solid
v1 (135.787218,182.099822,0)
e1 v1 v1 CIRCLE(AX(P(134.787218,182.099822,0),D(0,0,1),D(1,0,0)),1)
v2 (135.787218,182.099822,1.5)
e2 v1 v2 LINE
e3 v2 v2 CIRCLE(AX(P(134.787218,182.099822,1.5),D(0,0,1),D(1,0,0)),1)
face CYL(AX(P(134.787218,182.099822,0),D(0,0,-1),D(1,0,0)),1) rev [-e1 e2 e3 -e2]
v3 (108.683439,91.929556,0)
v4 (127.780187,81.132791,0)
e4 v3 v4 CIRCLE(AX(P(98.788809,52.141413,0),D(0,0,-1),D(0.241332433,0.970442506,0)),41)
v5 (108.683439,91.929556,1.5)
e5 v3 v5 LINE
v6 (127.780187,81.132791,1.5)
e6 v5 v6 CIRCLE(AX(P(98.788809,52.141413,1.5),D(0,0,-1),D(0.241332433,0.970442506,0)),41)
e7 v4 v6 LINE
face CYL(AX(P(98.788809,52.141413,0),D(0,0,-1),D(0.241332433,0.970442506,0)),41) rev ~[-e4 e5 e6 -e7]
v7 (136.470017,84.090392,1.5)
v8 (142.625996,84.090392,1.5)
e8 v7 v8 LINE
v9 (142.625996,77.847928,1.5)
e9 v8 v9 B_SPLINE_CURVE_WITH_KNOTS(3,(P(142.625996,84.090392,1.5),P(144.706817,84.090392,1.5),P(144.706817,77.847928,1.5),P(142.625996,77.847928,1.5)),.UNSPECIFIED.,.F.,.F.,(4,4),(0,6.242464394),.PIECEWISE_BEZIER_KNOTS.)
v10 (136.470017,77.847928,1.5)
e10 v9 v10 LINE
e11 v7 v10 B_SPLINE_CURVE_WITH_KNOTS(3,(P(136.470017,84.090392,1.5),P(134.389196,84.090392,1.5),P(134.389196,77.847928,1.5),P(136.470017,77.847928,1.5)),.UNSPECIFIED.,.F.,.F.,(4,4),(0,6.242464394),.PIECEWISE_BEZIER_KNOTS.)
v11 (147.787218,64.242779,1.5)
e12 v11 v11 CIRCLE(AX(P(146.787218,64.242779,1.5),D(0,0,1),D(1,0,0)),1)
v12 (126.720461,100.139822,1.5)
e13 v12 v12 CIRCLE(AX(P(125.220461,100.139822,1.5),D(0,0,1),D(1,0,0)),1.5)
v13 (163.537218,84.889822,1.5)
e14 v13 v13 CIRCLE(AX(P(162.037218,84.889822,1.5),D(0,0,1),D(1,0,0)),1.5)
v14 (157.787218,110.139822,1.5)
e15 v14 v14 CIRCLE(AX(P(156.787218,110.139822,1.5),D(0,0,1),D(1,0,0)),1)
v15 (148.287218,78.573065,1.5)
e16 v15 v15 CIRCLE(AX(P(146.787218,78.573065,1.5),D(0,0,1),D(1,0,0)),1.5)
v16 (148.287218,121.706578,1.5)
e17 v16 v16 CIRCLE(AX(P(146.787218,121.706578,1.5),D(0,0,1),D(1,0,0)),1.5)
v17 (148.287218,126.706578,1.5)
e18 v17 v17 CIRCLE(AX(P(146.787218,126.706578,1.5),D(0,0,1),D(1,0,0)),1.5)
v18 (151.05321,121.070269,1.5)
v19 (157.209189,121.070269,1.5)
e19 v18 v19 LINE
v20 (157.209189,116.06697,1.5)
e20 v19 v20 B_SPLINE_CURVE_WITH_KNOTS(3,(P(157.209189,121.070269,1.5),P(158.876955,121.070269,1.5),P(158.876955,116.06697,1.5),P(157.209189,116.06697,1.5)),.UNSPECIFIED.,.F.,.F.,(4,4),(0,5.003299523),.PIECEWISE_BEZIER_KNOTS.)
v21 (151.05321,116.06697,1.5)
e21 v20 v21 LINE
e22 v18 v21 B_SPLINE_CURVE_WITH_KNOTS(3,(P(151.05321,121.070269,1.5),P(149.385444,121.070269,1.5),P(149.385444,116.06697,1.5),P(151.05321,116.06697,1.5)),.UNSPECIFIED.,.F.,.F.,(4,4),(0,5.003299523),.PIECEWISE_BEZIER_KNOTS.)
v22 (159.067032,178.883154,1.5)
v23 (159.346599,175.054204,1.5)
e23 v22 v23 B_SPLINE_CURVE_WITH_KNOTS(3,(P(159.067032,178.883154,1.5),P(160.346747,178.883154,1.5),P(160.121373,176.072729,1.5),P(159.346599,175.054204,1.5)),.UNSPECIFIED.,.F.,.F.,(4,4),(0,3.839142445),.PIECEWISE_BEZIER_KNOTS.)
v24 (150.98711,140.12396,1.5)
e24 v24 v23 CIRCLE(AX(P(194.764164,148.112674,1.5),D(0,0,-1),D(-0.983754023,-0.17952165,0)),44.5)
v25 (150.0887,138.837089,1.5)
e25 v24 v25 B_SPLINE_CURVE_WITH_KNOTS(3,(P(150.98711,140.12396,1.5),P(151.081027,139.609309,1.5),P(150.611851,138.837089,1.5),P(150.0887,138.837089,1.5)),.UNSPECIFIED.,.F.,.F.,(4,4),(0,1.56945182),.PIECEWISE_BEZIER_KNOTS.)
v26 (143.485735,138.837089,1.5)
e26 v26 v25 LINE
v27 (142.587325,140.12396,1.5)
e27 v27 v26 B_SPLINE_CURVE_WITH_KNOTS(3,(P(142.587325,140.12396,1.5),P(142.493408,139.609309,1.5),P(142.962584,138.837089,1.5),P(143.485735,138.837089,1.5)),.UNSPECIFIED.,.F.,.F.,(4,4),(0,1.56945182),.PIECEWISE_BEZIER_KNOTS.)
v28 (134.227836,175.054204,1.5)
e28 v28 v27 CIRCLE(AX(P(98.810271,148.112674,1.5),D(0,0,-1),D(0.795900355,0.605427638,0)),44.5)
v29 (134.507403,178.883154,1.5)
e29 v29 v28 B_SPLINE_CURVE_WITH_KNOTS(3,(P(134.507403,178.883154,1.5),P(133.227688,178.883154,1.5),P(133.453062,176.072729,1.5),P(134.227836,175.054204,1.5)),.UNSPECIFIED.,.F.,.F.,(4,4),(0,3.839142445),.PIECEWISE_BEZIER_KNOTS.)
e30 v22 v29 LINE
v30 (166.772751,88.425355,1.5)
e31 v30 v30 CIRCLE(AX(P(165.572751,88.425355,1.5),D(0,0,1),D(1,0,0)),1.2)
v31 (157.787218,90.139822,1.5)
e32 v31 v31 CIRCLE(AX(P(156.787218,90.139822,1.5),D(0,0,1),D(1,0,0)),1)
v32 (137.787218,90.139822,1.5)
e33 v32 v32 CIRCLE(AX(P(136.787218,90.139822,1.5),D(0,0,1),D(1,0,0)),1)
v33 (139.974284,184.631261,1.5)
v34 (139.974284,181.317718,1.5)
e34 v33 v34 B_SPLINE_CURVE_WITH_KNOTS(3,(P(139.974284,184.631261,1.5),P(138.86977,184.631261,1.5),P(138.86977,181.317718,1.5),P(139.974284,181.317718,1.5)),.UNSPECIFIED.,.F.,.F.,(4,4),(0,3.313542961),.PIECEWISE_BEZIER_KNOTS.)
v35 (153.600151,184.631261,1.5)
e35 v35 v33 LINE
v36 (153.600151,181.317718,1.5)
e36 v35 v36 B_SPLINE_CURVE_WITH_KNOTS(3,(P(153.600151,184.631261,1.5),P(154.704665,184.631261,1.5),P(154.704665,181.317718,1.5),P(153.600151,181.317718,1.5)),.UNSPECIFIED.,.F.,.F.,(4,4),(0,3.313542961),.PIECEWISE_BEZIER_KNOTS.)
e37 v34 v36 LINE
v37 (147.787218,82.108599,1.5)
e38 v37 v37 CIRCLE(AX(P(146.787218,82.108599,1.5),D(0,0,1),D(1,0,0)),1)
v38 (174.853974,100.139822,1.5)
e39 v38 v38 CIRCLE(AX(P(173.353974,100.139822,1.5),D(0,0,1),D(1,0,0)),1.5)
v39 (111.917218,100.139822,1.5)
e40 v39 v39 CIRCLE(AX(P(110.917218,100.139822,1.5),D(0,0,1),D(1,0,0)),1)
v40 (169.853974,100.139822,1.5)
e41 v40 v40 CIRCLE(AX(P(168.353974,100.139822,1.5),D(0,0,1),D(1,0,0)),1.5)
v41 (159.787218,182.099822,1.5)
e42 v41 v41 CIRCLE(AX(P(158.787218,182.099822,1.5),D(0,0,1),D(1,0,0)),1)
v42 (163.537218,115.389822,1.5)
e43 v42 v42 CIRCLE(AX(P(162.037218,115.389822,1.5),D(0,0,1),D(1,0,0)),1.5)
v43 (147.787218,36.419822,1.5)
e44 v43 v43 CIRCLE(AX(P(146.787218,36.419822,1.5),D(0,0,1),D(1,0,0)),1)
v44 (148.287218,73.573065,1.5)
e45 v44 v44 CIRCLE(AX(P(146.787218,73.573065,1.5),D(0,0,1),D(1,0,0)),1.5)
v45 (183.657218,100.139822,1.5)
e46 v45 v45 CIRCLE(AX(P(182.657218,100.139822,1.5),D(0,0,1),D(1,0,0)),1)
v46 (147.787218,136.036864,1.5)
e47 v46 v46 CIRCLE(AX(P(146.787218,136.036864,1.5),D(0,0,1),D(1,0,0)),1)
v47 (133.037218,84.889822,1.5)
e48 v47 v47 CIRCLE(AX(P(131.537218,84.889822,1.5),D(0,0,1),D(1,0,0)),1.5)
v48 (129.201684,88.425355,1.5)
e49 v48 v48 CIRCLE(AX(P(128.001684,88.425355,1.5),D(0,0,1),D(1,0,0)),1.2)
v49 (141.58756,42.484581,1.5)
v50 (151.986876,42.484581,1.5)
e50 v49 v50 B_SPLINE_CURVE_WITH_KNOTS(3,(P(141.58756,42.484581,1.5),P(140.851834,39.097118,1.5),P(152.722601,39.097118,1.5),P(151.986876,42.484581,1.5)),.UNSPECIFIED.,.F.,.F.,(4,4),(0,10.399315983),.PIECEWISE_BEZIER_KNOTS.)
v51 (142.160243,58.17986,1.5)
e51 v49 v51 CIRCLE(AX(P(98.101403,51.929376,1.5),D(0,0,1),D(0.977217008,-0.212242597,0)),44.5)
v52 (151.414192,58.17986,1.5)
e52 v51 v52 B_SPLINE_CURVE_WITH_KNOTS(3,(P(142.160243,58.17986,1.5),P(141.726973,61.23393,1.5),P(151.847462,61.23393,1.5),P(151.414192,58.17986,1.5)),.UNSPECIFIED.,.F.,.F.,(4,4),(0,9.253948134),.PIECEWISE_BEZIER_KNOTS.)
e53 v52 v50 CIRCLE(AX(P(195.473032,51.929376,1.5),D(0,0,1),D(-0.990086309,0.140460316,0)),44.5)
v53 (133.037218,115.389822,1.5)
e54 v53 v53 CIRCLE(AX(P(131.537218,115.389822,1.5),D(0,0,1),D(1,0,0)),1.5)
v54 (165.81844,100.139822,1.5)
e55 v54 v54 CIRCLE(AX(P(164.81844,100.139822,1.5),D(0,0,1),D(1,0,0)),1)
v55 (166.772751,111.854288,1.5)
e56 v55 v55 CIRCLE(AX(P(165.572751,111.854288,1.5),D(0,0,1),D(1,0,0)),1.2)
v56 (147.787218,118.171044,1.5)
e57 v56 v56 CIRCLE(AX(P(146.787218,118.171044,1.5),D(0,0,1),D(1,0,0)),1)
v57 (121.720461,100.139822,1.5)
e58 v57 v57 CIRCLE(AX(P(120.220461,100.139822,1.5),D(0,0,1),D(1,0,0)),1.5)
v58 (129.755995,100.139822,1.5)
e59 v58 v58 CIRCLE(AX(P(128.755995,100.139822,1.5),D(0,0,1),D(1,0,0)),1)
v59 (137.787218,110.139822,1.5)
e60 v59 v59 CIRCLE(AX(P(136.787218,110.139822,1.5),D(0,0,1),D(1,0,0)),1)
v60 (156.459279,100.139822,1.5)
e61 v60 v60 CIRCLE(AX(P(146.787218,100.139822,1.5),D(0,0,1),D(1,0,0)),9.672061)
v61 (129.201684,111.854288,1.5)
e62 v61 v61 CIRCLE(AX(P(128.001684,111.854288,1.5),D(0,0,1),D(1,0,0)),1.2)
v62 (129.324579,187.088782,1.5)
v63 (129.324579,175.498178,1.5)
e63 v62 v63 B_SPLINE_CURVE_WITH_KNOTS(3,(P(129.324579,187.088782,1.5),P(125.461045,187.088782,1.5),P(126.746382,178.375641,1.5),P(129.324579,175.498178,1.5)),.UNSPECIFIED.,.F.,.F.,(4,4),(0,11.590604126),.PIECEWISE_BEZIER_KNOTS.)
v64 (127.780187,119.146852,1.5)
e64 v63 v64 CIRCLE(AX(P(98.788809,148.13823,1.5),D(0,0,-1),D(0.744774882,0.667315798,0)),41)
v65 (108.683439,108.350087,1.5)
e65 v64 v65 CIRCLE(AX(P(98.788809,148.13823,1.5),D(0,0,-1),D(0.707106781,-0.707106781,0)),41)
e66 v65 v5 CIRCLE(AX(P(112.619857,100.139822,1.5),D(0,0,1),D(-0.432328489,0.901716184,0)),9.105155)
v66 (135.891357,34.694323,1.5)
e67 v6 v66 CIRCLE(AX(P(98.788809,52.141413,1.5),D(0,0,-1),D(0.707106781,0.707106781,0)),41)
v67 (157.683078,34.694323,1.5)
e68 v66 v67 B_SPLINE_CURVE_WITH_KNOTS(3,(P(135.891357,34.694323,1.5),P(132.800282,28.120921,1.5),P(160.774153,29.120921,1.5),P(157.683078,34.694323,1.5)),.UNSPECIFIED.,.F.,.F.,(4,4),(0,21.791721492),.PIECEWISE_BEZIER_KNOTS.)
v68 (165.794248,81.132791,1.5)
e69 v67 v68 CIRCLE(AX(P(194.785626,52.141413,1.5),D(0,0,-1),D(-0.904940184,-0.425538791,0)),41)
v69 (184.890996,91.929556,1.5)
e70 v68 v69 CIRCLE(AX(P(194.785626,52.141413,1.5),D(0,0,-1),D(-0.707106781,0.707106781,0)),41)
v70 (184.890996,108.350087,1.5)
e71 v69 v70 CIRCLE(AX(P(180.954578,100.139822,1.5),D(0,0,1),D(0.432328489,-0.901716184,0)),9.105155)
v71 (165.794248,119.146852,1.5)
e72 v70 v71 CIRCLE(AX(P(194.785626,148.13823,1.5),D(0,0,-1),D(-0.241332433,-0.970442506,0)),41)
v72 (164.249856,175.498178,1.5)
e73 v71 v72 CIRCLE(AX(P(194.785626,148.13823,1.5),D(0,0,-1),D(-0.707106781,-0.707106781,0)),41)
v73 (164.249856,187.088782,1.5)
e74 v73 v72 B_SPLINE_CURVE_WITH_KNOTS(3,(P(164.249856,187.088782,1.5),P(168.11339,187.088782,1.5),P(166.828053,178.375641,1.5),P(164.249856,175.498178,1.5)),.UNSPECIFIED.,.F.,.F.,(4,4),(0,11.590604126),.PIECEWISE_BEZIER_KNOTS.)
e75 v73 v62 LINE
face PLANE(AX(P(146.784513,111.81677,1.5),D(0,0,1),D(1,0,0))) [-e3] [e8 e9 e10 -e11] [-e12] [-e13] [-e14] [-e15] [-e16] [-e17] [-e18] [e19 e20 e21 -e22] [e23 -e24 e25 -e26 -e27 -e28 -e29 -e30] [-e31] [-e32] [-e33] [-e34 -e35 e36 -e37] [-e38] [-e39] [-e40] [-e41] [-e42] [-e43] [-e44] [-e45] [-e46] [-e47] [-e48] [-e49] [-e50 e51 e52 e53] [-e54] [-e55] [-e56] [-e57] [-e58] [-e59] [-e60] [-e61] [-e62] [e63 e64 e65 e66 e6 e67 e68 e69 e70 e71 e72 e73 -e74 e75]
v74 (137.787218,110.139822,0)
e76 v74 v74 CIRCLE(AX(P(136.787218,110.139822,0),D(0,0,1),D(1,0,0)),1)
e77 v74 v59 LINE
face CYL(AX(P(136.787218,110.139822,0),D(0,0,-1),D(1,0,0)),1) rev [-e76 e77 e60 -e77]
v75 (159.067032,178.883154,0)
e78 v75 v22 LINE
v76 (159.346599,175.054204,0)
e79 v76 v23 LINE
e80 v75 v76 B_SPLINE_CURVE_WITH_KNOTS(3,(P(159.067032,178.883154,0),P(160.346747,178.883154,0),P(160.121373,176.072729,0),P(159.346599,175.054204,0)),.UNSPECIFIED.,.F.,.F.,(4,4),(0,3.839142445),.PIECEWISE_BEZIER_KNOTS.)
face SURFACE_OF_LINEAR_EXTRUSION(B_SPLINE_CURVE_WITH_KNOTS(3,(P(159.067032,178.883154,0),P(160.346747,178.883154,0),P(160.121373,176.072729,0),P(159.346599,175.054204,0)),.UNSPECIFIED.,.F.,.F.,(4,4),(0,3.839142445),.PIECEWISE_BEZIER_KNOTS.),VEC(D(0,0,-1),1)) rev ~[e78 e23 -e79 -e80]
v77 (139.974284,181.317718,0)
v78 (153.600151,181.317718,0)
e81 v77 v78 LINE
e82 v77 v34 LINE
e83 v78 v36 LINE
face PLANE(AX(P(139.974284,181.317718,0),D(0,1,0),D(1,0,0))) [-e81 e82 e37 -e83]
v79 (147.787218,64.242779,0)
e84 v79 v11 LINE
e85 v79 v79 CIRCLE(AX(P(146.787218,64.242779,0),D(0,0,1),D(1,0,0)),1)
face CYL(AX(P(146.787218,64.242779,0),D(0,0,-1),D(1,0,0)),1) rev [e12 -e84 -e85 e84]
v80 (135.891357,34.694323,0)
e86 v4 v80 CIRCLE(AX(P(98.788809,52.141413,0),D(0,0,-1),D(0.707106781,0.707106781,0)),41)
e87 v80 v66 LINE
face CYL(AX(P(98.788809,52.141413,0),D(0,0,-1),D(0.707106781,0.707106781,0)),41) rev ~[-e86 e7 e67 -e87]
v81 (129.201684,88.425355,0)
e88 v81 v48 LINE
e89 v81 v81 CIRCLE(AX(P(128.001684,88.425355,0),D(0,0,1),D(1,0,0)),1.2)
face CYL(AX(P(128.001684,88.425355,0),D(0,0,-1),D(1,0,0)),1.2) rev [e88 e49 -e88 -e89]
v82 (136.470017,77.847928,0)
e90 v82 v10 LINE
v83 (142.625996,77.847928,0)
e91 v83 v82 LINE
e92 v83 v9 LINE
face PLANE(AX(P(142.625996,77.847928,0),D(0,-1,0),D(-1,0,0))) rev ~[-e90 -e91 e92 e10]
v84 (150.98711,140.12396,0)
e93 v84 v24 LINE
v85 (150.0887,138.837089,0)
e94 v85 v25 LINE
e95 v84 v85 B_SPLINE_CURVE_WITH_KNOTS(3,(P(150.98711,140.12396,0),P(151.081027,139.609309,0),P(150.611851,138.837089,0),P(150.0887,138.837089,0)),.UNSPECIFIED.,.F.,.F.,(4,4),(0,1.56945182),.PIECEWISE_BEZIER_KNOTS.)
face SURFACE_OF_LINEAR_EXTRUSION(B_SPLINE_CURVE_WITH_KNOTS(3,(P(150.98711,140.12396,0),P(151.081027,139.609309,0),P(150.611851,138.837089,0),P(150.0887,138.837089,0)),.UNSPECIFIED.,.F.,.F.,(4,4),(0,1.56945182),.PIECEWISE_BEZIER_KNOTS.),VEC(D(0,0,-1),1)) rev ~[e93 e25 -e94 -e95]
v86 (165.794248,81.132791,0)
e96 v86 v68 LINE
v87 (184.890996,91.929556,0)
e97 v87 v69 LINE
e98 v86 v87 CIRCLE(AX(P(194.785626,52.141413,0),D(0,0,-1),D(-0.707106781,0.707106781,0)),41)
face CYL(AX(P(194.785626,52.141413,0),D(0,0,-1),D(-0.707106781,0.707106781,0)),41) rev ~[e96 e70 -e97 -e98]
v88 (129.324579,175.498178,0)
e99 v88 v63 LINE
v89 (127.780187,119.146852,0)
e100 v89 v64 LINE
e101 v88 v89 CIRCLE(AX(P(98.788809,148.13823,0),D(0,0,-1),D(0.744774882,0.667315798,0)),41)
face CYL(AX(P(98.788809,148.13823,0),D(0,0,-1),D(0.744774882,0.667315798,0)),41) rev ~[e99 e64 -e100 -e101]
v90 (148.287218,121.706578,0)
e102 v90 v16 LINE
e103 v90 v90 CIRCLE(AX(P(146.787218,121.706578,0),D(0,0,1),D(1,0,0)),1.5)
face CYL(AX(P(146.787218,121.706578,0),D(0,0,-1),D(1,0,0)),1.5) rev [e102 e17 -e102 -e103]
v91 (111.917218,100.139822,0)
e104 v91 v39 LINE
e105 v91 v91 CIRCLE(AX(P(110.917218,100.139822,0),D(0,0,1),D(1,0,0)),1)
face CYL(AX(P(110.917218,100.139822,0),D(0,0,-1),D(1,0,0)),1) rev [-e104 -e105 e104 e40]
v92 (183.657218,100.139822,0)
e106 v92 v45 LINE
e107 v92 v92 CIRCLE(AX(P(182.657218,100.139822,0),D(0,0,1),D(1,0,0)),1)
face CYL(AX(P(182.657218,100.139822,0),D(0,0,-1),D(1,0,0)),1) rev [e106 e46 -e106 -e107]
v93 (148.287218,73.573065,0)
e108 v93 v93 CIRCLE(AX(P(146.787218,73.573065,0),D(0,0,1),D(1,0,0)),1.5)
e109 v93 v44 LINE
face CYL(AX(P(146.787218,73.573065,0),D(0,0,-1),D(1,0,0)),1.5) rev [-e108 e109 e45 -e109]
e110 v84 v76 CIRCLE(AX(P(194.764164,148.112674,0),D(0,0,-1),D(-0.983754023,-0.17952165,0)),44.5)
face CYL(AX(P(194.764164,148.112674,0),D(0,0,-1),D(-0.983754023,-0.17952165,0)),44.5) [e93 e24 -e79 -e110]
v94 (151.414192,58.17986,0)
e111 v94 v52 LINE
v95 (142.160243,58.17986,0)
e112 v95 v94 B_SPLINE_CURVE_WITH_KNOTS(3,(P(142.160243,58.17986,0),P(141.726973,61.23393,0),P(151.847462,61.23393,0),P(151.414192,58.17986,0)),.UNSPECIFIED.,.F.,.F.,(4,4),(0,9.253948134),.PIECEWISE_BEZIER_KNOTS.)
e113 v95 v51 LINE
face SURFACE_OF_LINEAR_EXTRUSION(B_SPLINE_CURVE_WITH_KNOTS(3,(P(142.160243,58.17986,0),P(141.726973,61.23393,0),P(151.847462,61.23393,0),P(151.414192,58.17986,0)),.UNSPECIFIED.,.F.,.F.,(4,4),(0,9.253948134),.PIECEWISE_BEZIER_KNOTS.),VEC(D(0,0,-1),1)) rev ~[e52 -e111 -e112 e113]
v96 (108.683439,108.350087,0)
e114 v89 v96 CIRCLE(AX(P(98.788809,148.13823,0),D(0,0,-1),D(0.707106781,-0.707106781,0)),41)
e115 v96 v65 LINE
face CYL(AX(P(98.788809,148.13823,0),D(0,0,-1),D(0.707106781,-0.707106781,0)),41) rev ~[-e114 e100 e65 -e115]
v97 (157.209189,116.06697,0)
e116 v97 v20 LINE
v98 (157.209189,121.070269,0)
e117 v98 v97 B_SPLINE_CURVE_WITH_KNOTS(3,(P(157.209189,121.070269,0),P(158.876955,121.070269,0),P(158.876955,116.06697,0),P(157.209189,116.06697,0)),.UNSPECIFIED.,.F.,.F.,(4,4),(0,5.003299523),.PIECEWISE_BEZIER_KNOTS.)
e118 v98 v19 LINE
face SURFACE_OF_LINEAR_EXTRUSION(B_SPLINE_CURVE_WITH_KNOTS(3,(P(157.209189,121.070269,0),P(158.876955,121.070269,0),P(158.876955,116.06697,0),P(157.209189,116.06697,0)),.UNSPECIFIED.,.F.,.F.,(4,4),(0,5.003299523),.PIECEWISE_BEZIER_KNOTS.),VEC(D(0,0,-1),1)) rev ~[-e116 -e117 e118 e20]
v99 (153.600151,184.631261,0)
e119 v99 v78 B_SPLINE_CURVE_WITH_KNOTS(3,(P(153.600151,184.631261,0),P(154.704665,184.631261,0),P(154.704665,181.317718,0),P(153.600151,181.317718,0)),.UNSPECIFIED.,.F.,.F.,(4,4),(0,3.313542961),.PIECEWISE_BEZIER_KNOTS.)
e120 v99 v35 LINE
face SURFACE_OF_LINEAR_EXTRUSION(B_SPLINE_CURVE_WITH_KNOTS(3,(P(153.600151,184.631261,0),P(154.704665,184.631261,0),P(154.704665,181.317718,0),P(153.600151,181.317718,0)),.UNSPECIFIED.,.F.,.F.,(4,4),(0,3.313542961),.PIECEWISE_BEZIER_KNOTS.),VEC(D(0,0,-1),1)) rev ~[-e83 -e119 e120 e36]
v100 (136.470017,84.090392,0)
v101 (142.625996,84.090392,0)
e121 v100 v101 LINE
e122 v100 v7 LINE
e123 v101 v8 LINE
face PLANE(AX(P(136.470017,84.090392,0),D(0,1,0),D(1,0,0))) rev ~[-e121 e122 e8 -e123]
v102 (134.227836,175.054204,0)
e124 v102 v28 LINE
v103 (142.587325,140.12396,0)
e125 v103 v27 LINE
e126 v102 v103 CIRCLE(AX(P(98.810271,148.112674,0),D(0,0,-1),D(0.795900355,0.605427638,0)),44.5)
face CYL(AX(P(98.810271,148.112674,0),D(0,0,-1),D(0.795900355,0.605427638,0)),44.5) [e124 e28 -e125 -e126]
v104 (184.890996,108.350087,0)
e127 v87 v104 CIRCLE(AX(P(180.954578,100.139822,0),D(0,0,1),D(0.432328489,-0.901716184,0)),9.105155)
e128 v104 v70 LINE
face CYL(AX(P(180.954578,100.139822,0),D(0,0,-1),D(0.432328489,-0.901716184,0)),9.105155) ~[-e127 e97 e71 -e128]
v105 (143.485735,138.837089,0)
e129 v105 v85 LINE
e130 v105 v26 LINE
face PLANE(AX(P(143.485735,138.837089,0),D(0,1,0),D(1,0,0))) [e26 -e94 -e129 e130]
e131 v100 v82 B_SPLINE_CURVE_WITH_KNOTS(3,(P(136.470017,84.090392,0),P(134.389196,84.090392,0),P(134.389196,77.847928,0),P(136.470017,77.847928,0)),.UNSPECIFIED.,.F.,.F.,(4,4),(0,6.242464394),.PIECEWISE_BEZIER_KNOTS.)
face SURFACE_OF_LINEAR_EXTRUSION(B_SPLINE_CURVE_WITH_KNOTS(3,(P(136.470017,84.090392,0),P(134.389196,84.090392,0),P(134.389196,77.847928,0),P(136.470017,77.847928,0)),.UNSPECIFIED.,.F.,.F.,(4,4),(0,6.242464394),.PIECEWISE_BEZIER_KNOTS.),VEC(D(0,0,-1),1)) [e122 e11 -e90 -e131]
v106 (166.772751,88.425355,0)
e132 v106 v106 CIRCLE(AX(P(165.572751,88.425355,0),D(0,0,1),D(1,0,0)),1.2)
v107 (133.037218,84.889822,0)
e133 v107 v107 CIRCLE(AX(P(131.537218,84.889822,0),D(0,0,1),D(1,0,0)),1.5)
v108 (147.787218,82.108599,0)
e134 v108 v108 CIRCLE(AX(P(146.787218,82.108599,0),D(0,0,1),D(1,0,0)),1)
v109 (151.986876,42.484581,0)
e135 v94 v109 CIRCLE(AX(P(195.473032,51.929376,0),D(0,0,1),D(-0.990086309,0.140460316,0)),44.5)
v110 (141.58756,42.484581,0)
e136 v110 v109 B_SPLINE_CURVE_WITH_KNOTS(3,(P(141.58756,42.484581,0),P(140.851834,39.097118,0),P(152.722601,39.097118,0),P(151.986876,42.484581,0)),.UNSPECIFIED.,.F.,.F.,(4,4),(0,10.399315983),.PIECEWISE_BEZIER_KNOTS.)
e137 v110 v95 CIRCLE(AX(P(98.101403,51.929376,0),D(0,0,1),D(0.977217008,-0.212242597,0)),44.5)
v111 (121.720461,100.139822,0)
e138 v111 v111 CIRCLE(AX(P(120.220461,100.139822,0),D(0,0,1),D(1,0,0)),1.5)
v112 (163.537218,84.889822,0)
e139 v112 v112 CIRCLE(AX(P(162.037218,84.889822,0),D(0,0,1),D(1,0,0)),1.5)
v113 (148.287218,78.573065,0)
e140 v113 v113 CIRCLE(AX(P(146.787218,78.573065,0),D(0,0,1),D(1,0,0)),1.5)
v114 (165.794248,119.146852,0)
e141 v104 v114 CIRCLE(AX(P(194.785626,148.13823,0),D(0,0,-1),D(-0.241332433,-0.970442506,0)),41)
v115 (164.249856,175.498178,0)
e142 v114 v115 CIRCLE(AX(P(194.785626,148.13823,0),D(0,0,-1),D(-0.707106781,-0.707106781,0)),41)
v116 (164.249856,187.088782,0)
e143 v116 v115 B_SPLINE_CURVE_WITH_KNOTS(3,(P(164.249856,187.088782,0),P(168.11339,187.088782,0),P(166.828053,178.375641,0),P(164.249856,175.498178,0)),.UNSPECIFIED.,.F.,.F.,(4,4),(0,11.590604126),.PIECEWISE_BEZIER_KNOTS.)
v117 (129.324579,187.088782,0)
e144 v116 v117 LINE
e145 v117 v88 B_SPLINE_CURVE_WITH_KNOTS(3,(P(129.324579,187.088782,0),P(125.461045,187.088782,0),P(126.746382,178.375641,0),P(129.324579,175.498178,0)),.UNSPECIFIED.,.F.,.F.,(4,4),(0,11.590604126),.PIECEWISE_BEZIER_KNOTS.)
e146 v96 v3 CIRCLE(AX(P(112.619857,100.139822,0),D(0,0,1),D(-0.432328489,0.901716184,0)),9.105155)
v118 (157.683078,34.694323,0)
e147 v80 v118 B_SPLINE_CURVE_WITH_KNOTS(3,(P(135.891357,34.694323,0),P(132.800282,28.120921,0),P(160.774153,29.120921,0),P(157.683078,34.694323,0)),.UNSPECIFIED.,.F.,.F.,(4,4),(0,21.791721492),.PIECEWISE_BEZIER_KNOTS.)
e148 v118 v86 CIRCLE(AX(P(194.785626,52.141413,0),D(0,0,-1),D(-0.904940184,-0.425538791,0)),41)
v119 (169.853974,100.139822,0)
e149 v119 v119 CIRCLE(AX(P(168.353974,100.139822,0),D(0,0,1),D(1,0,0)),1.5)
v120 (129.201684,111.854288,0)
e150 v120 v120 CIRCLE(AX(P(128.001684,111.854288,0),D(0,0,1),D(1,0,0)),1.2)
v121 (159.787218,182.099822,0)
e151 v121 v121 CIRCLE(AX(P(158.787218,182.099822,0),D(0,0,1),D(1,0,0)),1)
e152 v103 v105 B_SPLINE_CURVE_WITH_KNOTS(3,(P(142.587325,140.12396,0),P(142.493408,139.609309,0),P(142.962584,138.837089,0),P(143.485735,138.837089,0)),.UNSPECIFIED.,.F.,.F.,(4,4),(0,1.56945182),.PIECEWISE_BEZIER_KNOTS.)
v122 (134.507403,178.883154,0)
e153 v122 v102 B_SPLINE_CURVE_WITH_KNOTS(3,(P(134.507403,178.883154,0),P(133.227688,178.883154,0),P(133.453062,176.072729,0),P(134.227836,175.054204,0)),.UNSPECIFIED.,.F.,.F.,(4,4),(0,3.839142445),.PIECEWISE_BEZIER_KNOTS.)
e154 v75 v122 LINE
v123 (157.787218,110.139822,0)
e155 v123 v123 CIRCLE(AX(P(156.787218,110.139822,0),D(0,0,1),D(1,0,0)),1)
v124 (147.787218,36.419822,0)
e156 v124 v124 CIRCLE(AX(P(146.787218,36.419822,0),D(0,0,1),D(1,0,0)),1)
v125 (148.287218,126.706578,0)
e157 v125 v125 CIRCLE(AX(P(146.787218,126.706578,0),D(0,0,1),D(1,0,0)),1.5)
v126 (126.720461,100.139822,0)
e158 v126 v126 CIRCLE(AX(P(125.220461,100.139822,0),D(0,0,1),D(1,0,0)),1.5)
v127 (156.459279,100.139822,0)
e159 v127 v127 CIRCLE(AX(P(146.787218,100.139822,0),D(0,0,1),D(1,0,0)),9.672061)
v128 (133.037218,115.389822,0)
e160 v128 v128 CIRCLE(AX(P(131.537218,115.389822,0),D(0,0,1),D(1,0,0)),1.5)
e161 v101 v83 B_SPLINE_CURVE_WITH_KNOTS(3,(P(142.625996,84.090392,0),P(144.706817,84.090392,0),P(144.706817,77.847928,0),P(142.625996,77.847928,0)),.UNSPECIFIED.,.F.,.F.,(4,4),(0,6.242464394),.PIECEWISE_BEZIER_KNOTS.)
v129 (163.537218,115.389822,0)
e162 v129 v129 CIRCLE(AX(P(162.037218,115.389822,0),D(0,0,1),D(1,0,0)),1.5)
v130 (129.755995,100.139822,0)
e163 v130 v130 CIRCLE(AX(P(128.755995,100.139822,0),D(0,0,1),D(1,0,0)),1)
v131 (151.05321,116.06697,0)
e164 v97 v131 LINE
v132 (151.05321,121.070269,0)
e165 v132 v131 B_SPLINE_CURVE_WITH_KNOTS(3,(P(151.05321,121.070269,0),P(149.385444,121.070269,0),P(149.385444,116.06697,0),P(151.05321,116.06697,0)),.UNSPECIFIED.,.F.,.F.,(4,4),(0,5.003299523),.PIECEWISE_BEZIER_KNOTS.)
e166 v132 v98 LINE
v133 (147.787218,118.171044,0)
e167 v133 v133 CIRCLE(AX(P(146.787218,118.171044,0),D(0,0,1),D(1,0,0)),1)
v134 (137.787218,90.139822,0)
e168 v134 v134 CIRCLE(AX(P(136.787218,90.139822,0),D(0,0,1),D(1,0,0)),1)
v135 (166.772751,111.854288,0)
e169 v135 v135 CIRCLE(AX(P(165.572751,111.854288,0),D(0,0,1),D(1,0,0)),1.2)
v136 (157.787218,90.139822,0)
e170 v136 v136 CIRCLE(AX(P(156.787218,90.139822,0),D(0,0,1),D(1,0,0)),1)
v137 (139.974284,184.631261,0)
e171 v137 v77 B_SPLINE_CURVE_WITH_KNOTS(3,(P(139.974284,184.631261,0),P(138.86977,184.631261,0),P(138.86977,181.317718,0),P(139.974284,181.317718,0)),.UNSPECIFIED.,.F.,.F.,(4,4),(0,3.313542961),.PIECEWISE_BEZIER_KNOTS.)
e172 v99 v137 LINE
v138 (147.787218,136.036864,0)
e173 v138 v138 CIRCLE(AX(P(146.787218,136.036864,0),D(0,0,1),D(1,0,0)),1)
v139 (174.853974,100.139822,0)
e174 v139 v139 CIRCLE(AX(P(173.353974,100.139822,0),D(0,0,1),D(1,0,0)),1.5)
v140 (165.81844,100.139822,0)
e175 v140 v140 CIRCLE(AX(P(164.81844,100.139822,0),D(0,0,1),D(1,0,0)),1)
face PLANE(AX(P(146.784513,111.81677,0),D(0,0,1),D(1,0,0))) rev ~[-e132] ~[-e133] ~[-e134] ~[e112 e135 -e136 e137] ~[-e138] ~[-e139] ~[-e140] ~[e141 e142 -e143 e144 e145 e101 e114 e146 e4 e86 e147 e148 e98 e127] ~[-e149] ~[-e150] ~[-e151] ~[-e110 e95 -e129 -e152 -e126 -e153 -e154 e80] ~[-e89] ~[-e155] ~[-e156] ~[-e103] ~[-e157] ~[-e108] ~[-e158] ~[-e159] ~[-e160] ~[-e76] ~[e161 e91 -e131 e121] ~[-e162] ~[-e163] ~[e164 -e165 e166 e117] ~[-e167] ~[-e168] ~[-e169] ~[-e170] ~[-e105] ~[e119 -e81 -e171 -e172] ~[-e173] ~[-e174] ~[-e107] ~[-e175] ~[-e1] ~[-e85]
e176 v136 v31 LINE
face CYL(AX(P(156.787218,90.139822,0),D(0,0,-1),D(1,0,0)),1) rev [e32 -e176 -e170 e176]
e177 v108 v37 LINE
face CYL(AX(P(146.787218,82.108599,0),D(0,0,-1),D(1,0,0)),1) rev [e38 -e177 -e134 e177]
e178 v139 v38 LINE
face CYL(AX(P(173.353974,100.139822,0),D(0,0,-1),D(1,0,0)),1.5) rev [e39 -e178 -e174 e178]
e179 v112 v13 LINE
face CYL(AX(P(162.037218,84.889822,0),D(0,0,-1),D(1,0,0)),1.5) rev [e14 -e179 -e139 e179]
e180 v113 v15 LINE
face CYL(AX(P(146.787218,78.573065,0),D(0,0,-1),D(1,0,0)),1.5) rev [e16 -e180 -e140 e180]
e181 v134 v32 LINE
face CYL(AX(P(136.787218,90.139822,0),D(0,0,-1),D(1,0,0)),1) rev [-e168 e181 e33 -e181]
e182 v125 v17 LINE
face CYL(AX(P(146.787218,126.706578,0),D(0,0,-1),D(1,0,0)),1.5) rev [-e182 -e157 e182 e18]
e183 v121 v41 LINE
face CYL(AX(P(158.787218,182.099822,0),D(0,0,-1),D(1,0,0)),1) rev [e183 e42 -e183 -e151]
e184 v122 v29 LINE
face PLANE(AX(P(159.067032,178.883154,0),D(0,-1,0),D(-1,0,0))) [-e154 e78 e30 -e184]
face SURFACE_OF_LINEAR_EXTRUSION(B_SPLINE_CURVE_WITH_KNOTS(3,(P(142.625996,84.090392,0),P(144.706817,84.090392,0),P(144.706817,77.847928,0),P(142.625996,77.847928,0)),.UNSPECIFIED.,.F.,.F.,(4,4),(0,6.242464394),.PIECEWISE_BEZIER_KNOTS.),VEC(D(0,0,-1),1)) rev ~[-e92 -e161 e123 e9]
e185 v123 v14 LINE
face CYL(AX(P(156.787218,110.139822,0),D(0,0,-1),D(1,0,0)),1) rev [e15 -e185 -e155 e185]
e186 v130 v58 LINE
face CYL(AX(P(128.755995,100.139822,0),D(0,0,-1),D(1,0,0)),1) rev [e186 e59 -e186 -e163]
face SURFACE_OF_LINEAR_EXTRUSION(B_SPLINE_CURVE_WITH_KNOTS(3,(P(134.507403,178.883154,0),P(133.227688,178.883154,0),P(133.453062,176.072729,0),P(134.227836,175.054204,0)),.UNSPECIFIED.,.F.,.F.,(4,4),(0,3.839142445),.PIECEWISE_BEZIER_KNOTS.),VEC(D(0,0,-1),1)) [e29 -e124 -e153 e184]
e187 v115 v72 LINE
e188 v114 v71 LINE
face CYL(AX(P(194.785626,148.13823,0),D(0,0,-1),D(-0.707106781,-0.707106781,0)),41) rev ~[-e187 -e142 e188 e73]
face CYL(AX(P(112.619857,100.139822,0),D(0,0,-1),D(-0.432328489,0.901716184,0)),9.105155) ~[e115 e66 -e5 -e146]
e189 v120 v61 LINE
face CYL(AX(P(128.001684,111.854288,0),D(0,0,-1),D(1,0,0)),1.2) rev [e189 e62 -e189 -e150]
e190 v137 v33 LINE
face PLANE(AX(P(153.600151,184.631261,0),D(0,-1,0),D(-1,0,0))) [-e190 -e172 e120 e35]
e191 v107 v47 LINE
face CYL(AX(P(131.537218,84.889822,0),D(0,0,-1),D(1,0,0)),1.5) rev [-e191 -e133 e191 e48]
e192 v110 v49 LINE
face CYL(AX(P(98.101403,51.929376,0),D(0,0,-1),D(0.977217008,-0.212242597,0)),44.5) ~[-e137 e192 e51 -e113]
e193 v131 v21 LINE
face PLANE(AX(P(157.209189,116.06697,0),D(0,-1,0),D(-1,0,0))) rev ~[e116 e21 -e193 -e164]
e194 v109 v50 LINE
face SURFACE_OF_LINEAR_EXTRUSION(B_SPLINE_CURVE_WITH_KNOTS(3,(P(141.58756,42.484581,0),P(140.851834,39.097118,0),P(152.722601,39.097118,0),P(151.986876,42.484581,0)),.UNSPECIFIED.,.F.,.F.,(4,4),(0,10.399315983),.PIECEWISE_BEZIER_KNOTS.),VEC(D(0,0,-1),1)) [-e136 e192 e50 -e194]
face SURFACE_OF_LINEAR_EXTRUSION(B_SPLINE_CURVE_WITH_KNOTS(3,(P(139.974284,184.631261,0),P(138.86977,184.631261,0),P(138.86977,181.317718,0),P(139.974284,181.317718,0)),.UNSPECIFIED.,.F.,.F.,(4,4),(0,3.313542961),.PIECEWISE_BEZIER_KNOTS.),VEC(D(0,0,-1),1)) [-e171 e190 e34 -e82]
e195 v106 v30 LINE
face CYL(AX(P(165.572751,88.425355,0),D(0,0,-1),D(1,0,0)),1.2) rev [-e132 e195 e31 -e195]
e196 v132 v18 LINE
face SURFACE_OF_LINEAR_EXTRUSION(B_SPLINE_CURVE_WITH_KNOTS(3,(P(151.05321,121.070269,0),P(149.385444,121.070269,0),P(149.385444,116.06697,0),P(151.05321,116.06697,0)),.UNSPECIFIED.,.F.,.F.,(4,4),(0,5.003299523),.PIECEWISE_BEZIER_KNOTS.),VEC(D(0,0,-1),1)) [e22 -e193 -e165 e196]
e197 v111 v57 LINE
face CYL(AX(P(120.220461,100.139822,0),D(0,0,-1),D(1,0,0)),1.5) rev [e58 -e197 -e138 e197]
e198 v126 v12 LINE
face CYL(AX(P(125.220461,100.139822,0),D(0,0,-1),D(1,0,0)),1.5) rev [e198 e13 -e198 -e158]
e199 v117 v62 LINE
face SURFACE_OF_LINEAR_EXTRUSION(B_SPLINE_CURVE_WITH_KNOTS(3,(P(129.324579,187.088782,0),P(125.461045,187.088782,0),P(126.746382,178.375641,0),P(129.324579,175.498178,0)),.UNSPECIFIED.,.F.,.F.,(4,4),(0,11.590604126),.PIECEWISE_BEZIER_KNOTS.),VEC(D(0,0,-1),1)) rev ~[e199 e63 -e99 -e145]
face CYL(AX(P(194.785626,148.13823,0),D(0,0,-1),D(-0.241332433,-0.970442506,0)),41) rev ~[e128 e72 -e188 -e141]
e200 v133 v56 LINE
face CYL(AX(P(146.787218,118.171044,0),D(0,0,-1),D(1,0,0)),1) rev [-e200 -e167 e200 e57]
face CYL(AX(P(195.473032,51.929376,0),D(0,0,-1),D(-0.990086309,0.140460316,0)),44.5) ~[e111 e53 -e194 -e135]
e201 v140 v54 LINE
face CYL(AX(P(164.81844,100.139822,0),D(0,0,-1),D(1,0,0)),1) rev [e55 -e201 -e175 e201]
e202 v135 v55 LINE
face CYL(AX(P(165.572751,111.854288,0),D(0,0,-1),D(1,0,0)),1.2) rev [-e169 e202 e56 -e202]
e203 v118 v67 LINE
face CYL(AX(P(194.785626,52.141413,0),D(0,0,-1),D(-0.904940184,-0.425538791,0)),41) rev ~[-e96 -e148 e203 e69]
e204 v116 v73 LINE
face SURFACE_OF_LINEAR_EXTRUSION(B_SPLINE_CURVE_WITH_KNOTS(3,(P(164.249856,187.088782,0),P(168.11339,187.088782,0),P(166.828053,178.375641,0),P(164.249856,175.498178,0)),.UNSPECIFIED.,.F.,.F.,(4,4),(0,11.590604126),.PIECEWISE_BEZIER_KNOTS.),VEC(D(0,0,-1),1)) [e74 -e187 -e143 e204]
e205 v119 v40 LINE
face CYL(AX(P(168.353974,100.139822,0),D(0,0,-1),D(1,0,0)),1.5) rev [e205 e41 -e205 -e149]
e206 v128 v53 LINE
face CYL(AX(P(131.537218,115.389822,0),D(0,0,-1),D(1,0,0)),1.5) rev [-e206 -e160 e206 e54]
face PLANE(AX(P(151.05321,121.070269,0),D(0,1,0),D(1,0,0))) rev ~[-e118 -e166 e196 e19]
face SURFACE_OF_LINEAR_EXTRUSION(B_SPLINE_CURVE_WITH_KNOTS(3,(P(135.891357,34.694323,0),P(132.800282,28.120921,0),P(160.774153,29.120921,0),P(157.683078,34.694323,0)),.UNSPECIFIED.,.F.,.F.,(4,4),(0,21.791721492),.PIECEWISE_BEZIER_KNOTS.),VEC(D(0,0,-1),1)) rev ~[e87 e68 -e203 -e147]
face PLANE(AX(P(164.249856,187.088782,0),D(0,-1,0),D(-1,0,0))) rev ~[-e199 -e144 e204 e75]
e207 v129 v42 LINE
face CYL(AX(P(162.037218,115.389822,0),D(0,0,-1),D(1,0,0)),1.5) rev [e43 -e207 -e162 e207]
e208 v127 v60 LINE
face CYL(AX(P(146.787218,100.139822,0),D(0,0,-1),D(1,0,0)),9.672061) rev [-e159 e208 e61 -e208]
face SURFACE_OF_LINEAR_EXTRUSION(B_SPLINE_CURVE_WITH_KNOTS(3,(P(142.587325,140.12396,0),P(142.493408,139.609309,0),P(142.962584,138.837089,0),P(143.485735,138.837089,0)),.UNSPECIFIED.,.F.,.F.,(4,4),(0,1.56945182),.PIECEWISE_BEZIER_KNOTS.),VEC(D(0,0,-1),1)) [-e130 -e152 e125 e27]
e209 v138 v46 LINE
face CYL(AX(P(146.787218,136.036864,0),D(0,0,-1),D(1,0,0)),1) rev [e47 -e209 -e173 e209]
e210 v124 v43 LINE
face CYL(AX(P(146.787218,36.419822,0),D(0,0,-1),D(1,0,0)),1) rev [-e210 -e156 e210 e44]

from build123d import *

# Parameters (mm, degrees)
MODEL_R         = 1
MODEL_R_2       = 1.5
MODEL_R_3       = 1.2
MODEL_R_4       = 9.672061212
EXTRUDE_1_DEPTH = 1.5


with BuildPart() as part:
    # Model → 凸台-拉伸1 (new body)
    with BuildSketch(Plane.XY):
        with BuildLine():
            Line((164.249855651, 187.088781669), (146.787217515, 187.088781669))
            Line((146.787217515, 187.088781669), (129.32457938, 187.088781669))
            add(Edge.make_bspline(
                [(129.32457938, 187.088781669), (125.461044671, 187.088781669), (126.746381631, 178.375641151), (129.32457938, 175.498177543)],
                knots=[0, 0, 0, 0, 11.590604126, 11.590604126, 11.590604126, 11.590604126], degree=3))
            ThreePointArc((129.32457938, 175.498177543), (139.773420004, 147.014985412), (127.780187237, 119.146851779))
            ThreePointArc((127.780187237, 119.146851779), (118.967335725, 112.447515783), (108.683438965, 108.350087077))
            ThreePointArc((108.683438965, 108.350087077), (103.514701902, 100.139821501), (108.683438965, 91.929555925))
            ThreePointArc((108.683438965, 91.929555925), (118.967335725, 87.832127219), (127.780187237, 81.132791223))
            ThreePointArc((127.780187237, 81.132791223), (139.177354468, 59.195873616), (135.89135677, 34.694322764))
            add(Edge.make_bspline(
                [(135.89135677, 34.694322764), (132.800282497, 28.120921276), (160.774152533, 29.120921276), (157.683078261, 34.694322764)],
                knots=[0, 0, 0, 0, 21.791721492, 21.791721492, 21.791721492, 21.791721492], degree=3))
            ThreePointArc((157.683078261, 34.694322764), (154.397080563, 59.195873616), (165.794247794, 81.132791223))
            ThreePointArc((165.794247794, 81.132791223), (174.607099306, 87.832127219), (184.890996066, 91.929555925))
            ThreePointArc((184.890996066, 91.929555925), (190.059733129, 100.139821501), (184.890996066, 108.350087077))
            ThreePointArc((184.890996066, 108.350087077), (174.607099306, 112.447515783), (165.794247794, 119.146851779))
            ThreePointArc((165.794247794, 119.146851779), (153.801015027, 147.014985412), (164.249855651, 175.498177543))
            add(Edge.make_bspline(
                [(164.249855651, 187.088781669), (168.11339036, 187.088781669), (166.8280534, 178.375641151), (164.249855651, 175.498177543)],
                knots=[0, 0, 0, 0, 11.590604126, 11.590604126, 11.590604126, 11.590604126], degree=3))
        make_face()
        with Locations((156.787217515, 110.139821501)):
            Circle(MODEL_R, mode=Mode.SUBTRACT)
        with Locations((136.787217515, 110.139821501)):
            Circle(MODEL_R, mode=Mode.SUBTRACT)
        with Locations((136.787217515, 90.139821501)):
            Circle(MODEL_R, mode=Mode.SUBTRACT)
        with Locations((156.787217515, 90.139821501)):
            Circle(MODEL_R, mode=Mode.SUBTRACT)
        with Locations((168.353974342, 100.139821501)):
            Circle(MODEL_R_2, mode=Mode.SUBTRACT)
        with Locations((146.787217515, 121.706578327)):
            Circle(MODEL_R_2, mode=Mode.SUBTRACT)
        with Locations((125.220460689, 100.139821501)):
            Circle(MODEL_R_2, mode=Mode.SUBTRACT)
        with Locations((146.787217515, 78.573064675)):
            Circle(MODEL_R_2, mode=Mode.SUBTRACT)
        with Locations((146.787217515, 126.706578327)):
            Circle(MODEL_R_2, mode=Mode.SUBTRACT)
        with Locations((120.220460689, 100.139821501)):
            Circle(MODEL_R_2, mode=Mode.SUBTRACT)
        with Locations((146.787217515, 73.573064675)):
            Circle(MODEL_R_2, mode=Mode.SUBTRACT)
        with Locations((173.353974342, 100.139821501)):
            Circle(MODEL_R_2, mode=Mode.SUBTRACT)
        with Locations((146.787217515, 118.171044401)):
            Circle(MODEL_R, mode=Mode.SUBTRACT)
        with Locations((128.755994615, 100.139821501)):
            Circle(MODEL_R, mode=Mode.SUBTRACT)
        with Locations((146.787217515, 82.108598601)):
            Circle(MODEL_R, mode=Mode.SUBTRACT)
        with Locations((164.818440415, 100.139821501)):
            Circle(MODEL_R, mode=Mode.SUBTRACT)
        with Locations((162.037217515, 115.389821501)):
            Circle(MODEL_R_2, mode=Mode.SUBTRACT)
        with Locations((131.537217515, 115.389821501)):
            Circle(MODEL_R_2, mode=Mode.SUBTRACT)
        with Locations((131.537217515, 84.889821501)):
            Circle(MODEL_R_2, mode=Mode.SUBTRACT)
        with Locations((162.037217515, 84.889821501)):
            Circle(MODEL_R_2, mode=Mode.SUBTRACT)
        with Locations((182.657217515, 100.139821501)):
            Circle(MODEL_R, mode=Mode.SUBTRACT)
        with Locations((146.787217515, 136.036864466)):
            Circle(MODEL_R, mode=Mode.SUBTRACT)
        with Locations((110.917217515, 100.139821501)):
            Circle(MODEL_R, mode=Mode.SUBTRACT)
        with Locations((146.787217515, 64.242778536)):
            Circle(MODEL_R, mode=Mode.SUBTRACT)
        with Locations((146.787217515, 36.419821501)):
            Circle(MODEL_R, mode=Mode.SUBTRACT)
        with Locations((158.787217515, 182.099821501)):
            Circle(MODEL_R, mode=Mode.SUBTRACT)
        with Locations((134.787217515, 182.099821501)):
            Circle(MODEL_R, mode=Mode.SUBTRACT)
        with Locations((128.00168361, 111.854287595)):
            Circle(MODEL_R_3, mode=Mode.SUBTRACT)
        with Locations((165.572751421, 111.854287595)):
            Circle(MODEL_R_3, mode=Mode.SUBTRACT)
        with Locations((128.00168361, 88.425355407)):
            Circle(MODEL_R_3, mode=Mode.SUBTRACT)
        with Locations((165.572751421, 88.425355407)):
            Circle(MODEL_R_3, mode=Mode.SUBTRACT)
        with Locations((146.787217515, 100.139821501)):
            Circle(MODEL_R_4, mode=Mode.SUBTRACT)
        with BuildLine():
            Line((159.067032454, 178.883153661), (146.787217515, 178.883153661))
            Line((146.787217515, 178.883153661), (134.507402577, 178.883153661))
            add(Edge.make_bspline(
                [(134.507402577, 178.883153661), (133.227688428, 178.883153661), (133.453062144, 176.072728685), (134.227836458, 175.05420374)],
                knots=[0, 0, 0, 0, 3.839142445, 3.839142445, 3.839142445, 3.839142445], degree=3))
            ThreePointArc((134.227836458, 175.05420374), (142.088179874, 158.46992126), (142.587324671, 140.123960438))
            add(Edge.make_bspline(
                [(142.587324671, 140.123960438), (142.493407811, 139.609308925), (142.9625841, 138.837088874), (143.485734707, 138.837088874)],
                knots=[0, 0, 0, 0, 1.56945182, 1.56945182, 1.56945182, 1.56945182], degree=3))
            Line((143.485734707, 138.837088874), (146.787217515, 138.837088874))
            Line((146.787217515, 138.837088874), (150.088700324, 138.837088874))
            add(Edge.make_bspline(
                [(150.98711036, 140.123960438), (151.08102722, 139.609308925), (150.611850931, 138.837088874), (150.088700324, 138.837088874)],
                knots=[0, 0, 0, 0, 1.56945182, 1.56945182, 1.56945182, 1.56945182], degree=3))
            ThreePointArc((150.98711036, 140.123960438), (151.486255157, 158.46992126), (159.346598573, 175.05420374))
            add(Edge.make_bspline(
                [(159.067032454, 178.883153661), (160.346746603, 178.883153661), (160.121372887, 176.072728685), (159.346598573, 175.05420374)],
                knots=[0, 0, 0, 0, 3.839142445, 3.839142445, 3.839142445, 3.839142445], degree=3))
        make_face(mode=Mode.SUBTRACT)
        with BuildLine():
            Line((151.053210178, 121.070269245), (157.209188782, 121.070269245))
            add(Edge.make_bspline(
                [(157.209188782, 121.070269245), (158.876955289, 121.070269245), (158.876955289, 116.066969722), (157.209188782, 116.066969722)],
                knots=[0, 0, 0, 0, 5.003299523, 5.003299523, 5.003299523, 5.003299523], degree=3))
            Line((157.209188782, 116.066969722), (151.053210178, 116.066969722))
            add(Edge.make_bspline(
                [(151.053210178, 121.070269245), (149.38544367, 121.070269245), (149.38544367, 116.066969722), (151.053210178, 116.066969722)],
                knots=[0, 0, 0, 0, 5.003299523, 5.003299523, 5.003299523, 5.003299523], degree=3))
        make_face(mode=Mode.SUBTRACT)
        with BuildLine():
            Line((136.47001729, 84.090392193), (142.625995894, 84.090392193))
            add(Edge.make_bspline(
                [(142.625995894, 84.090392193), (144.706817358, 84.090392193), (144.706817358, 77.847927799), (142.625995894, 77.847927799)],
                knots=[0, 0, 0, 0, 6.242464394, 6.242464394, 6.242464394, 6.242464394], degree=3))
            Line((142.625995894, 77.847927799), (136.47001729, 77.847927799))
            add(Edge.make_bspline(
                [(136.47001729, 84.090392193), (134.389195825, 84.090392193), (134.389195825, 77.847927799), (136.47001729, 77.847927799)],
                knots=[0, 0, 0, 0, 6.242464394, 6.242464394, 6.242464394, 6.242464394], degree=3))
        make_face(mode=Mode.SUBTRACT)
        with BuildLine():
            Line((139.974283877, 181.317718414), (153.600151154, 181.317718414))
            add(Edge.make_bspline(
                [(153.600151154, 184.631261375), (154.704665474, 184.631261375), (154.704665474, 181.317718414), (153.600151154, 181.317718414)],
                knots=[0, 0, 0, 0, 3.313542961, 3.313542961, 3.313542961, 3.313542961], degree=3))
            Line((153.600151154, 184.631261375), (139.974283877, 184.631261375))
            add(Edge.make_bspline(
                [(139.974283877, 184.631261375), (138.869769557, 184.631261375), (138.869769557, 181.317718414), (139.974283877, 181.317718414)],
                knots=[0, 0, 0, 0, 3.313542961, 3.313542961, 3.313542961, 3.313542961], degree=3))
        make_face(mode=Mode.SUBTRACT)
        with BuildLine():
            ThreePointArc((151.414191582, 58.179860404), (151.00262531, 50.30675556), (151.986875507, 42.484580784))
            add(Edge.make_bspline(
                [(141.587559524, 42.484580784), (140.851833579, 39.097117969), (152.722601452, 39.097117969), (151.986875507, 42.484580784)],
                knots=[0, 0, 0, 0, 10.399315983, 10.399315983, 10.399315983, 10.399315983], degree=3))
            ThreePointArc((141.587559524, 42.484580784), (142.57180972, 50.30675556), (142.160243449, 58.179860404))
            add(Edge.make_bspline(
                [(142.160243449, 58.179860404), (141.726972624, 61.233929522), (151.847462407, 61.233929522), (151.414191582, 58.179860404)],
                knots=[0, 0, 0, 0, 9.253948134, 9.253948134, 9.253948134, 9.253948134], degree=3))
        make_face(mode=Mode.SUBTRACT)
    extrude(amount=EXTRUDE_1_DEPTH)


solid = part.part
